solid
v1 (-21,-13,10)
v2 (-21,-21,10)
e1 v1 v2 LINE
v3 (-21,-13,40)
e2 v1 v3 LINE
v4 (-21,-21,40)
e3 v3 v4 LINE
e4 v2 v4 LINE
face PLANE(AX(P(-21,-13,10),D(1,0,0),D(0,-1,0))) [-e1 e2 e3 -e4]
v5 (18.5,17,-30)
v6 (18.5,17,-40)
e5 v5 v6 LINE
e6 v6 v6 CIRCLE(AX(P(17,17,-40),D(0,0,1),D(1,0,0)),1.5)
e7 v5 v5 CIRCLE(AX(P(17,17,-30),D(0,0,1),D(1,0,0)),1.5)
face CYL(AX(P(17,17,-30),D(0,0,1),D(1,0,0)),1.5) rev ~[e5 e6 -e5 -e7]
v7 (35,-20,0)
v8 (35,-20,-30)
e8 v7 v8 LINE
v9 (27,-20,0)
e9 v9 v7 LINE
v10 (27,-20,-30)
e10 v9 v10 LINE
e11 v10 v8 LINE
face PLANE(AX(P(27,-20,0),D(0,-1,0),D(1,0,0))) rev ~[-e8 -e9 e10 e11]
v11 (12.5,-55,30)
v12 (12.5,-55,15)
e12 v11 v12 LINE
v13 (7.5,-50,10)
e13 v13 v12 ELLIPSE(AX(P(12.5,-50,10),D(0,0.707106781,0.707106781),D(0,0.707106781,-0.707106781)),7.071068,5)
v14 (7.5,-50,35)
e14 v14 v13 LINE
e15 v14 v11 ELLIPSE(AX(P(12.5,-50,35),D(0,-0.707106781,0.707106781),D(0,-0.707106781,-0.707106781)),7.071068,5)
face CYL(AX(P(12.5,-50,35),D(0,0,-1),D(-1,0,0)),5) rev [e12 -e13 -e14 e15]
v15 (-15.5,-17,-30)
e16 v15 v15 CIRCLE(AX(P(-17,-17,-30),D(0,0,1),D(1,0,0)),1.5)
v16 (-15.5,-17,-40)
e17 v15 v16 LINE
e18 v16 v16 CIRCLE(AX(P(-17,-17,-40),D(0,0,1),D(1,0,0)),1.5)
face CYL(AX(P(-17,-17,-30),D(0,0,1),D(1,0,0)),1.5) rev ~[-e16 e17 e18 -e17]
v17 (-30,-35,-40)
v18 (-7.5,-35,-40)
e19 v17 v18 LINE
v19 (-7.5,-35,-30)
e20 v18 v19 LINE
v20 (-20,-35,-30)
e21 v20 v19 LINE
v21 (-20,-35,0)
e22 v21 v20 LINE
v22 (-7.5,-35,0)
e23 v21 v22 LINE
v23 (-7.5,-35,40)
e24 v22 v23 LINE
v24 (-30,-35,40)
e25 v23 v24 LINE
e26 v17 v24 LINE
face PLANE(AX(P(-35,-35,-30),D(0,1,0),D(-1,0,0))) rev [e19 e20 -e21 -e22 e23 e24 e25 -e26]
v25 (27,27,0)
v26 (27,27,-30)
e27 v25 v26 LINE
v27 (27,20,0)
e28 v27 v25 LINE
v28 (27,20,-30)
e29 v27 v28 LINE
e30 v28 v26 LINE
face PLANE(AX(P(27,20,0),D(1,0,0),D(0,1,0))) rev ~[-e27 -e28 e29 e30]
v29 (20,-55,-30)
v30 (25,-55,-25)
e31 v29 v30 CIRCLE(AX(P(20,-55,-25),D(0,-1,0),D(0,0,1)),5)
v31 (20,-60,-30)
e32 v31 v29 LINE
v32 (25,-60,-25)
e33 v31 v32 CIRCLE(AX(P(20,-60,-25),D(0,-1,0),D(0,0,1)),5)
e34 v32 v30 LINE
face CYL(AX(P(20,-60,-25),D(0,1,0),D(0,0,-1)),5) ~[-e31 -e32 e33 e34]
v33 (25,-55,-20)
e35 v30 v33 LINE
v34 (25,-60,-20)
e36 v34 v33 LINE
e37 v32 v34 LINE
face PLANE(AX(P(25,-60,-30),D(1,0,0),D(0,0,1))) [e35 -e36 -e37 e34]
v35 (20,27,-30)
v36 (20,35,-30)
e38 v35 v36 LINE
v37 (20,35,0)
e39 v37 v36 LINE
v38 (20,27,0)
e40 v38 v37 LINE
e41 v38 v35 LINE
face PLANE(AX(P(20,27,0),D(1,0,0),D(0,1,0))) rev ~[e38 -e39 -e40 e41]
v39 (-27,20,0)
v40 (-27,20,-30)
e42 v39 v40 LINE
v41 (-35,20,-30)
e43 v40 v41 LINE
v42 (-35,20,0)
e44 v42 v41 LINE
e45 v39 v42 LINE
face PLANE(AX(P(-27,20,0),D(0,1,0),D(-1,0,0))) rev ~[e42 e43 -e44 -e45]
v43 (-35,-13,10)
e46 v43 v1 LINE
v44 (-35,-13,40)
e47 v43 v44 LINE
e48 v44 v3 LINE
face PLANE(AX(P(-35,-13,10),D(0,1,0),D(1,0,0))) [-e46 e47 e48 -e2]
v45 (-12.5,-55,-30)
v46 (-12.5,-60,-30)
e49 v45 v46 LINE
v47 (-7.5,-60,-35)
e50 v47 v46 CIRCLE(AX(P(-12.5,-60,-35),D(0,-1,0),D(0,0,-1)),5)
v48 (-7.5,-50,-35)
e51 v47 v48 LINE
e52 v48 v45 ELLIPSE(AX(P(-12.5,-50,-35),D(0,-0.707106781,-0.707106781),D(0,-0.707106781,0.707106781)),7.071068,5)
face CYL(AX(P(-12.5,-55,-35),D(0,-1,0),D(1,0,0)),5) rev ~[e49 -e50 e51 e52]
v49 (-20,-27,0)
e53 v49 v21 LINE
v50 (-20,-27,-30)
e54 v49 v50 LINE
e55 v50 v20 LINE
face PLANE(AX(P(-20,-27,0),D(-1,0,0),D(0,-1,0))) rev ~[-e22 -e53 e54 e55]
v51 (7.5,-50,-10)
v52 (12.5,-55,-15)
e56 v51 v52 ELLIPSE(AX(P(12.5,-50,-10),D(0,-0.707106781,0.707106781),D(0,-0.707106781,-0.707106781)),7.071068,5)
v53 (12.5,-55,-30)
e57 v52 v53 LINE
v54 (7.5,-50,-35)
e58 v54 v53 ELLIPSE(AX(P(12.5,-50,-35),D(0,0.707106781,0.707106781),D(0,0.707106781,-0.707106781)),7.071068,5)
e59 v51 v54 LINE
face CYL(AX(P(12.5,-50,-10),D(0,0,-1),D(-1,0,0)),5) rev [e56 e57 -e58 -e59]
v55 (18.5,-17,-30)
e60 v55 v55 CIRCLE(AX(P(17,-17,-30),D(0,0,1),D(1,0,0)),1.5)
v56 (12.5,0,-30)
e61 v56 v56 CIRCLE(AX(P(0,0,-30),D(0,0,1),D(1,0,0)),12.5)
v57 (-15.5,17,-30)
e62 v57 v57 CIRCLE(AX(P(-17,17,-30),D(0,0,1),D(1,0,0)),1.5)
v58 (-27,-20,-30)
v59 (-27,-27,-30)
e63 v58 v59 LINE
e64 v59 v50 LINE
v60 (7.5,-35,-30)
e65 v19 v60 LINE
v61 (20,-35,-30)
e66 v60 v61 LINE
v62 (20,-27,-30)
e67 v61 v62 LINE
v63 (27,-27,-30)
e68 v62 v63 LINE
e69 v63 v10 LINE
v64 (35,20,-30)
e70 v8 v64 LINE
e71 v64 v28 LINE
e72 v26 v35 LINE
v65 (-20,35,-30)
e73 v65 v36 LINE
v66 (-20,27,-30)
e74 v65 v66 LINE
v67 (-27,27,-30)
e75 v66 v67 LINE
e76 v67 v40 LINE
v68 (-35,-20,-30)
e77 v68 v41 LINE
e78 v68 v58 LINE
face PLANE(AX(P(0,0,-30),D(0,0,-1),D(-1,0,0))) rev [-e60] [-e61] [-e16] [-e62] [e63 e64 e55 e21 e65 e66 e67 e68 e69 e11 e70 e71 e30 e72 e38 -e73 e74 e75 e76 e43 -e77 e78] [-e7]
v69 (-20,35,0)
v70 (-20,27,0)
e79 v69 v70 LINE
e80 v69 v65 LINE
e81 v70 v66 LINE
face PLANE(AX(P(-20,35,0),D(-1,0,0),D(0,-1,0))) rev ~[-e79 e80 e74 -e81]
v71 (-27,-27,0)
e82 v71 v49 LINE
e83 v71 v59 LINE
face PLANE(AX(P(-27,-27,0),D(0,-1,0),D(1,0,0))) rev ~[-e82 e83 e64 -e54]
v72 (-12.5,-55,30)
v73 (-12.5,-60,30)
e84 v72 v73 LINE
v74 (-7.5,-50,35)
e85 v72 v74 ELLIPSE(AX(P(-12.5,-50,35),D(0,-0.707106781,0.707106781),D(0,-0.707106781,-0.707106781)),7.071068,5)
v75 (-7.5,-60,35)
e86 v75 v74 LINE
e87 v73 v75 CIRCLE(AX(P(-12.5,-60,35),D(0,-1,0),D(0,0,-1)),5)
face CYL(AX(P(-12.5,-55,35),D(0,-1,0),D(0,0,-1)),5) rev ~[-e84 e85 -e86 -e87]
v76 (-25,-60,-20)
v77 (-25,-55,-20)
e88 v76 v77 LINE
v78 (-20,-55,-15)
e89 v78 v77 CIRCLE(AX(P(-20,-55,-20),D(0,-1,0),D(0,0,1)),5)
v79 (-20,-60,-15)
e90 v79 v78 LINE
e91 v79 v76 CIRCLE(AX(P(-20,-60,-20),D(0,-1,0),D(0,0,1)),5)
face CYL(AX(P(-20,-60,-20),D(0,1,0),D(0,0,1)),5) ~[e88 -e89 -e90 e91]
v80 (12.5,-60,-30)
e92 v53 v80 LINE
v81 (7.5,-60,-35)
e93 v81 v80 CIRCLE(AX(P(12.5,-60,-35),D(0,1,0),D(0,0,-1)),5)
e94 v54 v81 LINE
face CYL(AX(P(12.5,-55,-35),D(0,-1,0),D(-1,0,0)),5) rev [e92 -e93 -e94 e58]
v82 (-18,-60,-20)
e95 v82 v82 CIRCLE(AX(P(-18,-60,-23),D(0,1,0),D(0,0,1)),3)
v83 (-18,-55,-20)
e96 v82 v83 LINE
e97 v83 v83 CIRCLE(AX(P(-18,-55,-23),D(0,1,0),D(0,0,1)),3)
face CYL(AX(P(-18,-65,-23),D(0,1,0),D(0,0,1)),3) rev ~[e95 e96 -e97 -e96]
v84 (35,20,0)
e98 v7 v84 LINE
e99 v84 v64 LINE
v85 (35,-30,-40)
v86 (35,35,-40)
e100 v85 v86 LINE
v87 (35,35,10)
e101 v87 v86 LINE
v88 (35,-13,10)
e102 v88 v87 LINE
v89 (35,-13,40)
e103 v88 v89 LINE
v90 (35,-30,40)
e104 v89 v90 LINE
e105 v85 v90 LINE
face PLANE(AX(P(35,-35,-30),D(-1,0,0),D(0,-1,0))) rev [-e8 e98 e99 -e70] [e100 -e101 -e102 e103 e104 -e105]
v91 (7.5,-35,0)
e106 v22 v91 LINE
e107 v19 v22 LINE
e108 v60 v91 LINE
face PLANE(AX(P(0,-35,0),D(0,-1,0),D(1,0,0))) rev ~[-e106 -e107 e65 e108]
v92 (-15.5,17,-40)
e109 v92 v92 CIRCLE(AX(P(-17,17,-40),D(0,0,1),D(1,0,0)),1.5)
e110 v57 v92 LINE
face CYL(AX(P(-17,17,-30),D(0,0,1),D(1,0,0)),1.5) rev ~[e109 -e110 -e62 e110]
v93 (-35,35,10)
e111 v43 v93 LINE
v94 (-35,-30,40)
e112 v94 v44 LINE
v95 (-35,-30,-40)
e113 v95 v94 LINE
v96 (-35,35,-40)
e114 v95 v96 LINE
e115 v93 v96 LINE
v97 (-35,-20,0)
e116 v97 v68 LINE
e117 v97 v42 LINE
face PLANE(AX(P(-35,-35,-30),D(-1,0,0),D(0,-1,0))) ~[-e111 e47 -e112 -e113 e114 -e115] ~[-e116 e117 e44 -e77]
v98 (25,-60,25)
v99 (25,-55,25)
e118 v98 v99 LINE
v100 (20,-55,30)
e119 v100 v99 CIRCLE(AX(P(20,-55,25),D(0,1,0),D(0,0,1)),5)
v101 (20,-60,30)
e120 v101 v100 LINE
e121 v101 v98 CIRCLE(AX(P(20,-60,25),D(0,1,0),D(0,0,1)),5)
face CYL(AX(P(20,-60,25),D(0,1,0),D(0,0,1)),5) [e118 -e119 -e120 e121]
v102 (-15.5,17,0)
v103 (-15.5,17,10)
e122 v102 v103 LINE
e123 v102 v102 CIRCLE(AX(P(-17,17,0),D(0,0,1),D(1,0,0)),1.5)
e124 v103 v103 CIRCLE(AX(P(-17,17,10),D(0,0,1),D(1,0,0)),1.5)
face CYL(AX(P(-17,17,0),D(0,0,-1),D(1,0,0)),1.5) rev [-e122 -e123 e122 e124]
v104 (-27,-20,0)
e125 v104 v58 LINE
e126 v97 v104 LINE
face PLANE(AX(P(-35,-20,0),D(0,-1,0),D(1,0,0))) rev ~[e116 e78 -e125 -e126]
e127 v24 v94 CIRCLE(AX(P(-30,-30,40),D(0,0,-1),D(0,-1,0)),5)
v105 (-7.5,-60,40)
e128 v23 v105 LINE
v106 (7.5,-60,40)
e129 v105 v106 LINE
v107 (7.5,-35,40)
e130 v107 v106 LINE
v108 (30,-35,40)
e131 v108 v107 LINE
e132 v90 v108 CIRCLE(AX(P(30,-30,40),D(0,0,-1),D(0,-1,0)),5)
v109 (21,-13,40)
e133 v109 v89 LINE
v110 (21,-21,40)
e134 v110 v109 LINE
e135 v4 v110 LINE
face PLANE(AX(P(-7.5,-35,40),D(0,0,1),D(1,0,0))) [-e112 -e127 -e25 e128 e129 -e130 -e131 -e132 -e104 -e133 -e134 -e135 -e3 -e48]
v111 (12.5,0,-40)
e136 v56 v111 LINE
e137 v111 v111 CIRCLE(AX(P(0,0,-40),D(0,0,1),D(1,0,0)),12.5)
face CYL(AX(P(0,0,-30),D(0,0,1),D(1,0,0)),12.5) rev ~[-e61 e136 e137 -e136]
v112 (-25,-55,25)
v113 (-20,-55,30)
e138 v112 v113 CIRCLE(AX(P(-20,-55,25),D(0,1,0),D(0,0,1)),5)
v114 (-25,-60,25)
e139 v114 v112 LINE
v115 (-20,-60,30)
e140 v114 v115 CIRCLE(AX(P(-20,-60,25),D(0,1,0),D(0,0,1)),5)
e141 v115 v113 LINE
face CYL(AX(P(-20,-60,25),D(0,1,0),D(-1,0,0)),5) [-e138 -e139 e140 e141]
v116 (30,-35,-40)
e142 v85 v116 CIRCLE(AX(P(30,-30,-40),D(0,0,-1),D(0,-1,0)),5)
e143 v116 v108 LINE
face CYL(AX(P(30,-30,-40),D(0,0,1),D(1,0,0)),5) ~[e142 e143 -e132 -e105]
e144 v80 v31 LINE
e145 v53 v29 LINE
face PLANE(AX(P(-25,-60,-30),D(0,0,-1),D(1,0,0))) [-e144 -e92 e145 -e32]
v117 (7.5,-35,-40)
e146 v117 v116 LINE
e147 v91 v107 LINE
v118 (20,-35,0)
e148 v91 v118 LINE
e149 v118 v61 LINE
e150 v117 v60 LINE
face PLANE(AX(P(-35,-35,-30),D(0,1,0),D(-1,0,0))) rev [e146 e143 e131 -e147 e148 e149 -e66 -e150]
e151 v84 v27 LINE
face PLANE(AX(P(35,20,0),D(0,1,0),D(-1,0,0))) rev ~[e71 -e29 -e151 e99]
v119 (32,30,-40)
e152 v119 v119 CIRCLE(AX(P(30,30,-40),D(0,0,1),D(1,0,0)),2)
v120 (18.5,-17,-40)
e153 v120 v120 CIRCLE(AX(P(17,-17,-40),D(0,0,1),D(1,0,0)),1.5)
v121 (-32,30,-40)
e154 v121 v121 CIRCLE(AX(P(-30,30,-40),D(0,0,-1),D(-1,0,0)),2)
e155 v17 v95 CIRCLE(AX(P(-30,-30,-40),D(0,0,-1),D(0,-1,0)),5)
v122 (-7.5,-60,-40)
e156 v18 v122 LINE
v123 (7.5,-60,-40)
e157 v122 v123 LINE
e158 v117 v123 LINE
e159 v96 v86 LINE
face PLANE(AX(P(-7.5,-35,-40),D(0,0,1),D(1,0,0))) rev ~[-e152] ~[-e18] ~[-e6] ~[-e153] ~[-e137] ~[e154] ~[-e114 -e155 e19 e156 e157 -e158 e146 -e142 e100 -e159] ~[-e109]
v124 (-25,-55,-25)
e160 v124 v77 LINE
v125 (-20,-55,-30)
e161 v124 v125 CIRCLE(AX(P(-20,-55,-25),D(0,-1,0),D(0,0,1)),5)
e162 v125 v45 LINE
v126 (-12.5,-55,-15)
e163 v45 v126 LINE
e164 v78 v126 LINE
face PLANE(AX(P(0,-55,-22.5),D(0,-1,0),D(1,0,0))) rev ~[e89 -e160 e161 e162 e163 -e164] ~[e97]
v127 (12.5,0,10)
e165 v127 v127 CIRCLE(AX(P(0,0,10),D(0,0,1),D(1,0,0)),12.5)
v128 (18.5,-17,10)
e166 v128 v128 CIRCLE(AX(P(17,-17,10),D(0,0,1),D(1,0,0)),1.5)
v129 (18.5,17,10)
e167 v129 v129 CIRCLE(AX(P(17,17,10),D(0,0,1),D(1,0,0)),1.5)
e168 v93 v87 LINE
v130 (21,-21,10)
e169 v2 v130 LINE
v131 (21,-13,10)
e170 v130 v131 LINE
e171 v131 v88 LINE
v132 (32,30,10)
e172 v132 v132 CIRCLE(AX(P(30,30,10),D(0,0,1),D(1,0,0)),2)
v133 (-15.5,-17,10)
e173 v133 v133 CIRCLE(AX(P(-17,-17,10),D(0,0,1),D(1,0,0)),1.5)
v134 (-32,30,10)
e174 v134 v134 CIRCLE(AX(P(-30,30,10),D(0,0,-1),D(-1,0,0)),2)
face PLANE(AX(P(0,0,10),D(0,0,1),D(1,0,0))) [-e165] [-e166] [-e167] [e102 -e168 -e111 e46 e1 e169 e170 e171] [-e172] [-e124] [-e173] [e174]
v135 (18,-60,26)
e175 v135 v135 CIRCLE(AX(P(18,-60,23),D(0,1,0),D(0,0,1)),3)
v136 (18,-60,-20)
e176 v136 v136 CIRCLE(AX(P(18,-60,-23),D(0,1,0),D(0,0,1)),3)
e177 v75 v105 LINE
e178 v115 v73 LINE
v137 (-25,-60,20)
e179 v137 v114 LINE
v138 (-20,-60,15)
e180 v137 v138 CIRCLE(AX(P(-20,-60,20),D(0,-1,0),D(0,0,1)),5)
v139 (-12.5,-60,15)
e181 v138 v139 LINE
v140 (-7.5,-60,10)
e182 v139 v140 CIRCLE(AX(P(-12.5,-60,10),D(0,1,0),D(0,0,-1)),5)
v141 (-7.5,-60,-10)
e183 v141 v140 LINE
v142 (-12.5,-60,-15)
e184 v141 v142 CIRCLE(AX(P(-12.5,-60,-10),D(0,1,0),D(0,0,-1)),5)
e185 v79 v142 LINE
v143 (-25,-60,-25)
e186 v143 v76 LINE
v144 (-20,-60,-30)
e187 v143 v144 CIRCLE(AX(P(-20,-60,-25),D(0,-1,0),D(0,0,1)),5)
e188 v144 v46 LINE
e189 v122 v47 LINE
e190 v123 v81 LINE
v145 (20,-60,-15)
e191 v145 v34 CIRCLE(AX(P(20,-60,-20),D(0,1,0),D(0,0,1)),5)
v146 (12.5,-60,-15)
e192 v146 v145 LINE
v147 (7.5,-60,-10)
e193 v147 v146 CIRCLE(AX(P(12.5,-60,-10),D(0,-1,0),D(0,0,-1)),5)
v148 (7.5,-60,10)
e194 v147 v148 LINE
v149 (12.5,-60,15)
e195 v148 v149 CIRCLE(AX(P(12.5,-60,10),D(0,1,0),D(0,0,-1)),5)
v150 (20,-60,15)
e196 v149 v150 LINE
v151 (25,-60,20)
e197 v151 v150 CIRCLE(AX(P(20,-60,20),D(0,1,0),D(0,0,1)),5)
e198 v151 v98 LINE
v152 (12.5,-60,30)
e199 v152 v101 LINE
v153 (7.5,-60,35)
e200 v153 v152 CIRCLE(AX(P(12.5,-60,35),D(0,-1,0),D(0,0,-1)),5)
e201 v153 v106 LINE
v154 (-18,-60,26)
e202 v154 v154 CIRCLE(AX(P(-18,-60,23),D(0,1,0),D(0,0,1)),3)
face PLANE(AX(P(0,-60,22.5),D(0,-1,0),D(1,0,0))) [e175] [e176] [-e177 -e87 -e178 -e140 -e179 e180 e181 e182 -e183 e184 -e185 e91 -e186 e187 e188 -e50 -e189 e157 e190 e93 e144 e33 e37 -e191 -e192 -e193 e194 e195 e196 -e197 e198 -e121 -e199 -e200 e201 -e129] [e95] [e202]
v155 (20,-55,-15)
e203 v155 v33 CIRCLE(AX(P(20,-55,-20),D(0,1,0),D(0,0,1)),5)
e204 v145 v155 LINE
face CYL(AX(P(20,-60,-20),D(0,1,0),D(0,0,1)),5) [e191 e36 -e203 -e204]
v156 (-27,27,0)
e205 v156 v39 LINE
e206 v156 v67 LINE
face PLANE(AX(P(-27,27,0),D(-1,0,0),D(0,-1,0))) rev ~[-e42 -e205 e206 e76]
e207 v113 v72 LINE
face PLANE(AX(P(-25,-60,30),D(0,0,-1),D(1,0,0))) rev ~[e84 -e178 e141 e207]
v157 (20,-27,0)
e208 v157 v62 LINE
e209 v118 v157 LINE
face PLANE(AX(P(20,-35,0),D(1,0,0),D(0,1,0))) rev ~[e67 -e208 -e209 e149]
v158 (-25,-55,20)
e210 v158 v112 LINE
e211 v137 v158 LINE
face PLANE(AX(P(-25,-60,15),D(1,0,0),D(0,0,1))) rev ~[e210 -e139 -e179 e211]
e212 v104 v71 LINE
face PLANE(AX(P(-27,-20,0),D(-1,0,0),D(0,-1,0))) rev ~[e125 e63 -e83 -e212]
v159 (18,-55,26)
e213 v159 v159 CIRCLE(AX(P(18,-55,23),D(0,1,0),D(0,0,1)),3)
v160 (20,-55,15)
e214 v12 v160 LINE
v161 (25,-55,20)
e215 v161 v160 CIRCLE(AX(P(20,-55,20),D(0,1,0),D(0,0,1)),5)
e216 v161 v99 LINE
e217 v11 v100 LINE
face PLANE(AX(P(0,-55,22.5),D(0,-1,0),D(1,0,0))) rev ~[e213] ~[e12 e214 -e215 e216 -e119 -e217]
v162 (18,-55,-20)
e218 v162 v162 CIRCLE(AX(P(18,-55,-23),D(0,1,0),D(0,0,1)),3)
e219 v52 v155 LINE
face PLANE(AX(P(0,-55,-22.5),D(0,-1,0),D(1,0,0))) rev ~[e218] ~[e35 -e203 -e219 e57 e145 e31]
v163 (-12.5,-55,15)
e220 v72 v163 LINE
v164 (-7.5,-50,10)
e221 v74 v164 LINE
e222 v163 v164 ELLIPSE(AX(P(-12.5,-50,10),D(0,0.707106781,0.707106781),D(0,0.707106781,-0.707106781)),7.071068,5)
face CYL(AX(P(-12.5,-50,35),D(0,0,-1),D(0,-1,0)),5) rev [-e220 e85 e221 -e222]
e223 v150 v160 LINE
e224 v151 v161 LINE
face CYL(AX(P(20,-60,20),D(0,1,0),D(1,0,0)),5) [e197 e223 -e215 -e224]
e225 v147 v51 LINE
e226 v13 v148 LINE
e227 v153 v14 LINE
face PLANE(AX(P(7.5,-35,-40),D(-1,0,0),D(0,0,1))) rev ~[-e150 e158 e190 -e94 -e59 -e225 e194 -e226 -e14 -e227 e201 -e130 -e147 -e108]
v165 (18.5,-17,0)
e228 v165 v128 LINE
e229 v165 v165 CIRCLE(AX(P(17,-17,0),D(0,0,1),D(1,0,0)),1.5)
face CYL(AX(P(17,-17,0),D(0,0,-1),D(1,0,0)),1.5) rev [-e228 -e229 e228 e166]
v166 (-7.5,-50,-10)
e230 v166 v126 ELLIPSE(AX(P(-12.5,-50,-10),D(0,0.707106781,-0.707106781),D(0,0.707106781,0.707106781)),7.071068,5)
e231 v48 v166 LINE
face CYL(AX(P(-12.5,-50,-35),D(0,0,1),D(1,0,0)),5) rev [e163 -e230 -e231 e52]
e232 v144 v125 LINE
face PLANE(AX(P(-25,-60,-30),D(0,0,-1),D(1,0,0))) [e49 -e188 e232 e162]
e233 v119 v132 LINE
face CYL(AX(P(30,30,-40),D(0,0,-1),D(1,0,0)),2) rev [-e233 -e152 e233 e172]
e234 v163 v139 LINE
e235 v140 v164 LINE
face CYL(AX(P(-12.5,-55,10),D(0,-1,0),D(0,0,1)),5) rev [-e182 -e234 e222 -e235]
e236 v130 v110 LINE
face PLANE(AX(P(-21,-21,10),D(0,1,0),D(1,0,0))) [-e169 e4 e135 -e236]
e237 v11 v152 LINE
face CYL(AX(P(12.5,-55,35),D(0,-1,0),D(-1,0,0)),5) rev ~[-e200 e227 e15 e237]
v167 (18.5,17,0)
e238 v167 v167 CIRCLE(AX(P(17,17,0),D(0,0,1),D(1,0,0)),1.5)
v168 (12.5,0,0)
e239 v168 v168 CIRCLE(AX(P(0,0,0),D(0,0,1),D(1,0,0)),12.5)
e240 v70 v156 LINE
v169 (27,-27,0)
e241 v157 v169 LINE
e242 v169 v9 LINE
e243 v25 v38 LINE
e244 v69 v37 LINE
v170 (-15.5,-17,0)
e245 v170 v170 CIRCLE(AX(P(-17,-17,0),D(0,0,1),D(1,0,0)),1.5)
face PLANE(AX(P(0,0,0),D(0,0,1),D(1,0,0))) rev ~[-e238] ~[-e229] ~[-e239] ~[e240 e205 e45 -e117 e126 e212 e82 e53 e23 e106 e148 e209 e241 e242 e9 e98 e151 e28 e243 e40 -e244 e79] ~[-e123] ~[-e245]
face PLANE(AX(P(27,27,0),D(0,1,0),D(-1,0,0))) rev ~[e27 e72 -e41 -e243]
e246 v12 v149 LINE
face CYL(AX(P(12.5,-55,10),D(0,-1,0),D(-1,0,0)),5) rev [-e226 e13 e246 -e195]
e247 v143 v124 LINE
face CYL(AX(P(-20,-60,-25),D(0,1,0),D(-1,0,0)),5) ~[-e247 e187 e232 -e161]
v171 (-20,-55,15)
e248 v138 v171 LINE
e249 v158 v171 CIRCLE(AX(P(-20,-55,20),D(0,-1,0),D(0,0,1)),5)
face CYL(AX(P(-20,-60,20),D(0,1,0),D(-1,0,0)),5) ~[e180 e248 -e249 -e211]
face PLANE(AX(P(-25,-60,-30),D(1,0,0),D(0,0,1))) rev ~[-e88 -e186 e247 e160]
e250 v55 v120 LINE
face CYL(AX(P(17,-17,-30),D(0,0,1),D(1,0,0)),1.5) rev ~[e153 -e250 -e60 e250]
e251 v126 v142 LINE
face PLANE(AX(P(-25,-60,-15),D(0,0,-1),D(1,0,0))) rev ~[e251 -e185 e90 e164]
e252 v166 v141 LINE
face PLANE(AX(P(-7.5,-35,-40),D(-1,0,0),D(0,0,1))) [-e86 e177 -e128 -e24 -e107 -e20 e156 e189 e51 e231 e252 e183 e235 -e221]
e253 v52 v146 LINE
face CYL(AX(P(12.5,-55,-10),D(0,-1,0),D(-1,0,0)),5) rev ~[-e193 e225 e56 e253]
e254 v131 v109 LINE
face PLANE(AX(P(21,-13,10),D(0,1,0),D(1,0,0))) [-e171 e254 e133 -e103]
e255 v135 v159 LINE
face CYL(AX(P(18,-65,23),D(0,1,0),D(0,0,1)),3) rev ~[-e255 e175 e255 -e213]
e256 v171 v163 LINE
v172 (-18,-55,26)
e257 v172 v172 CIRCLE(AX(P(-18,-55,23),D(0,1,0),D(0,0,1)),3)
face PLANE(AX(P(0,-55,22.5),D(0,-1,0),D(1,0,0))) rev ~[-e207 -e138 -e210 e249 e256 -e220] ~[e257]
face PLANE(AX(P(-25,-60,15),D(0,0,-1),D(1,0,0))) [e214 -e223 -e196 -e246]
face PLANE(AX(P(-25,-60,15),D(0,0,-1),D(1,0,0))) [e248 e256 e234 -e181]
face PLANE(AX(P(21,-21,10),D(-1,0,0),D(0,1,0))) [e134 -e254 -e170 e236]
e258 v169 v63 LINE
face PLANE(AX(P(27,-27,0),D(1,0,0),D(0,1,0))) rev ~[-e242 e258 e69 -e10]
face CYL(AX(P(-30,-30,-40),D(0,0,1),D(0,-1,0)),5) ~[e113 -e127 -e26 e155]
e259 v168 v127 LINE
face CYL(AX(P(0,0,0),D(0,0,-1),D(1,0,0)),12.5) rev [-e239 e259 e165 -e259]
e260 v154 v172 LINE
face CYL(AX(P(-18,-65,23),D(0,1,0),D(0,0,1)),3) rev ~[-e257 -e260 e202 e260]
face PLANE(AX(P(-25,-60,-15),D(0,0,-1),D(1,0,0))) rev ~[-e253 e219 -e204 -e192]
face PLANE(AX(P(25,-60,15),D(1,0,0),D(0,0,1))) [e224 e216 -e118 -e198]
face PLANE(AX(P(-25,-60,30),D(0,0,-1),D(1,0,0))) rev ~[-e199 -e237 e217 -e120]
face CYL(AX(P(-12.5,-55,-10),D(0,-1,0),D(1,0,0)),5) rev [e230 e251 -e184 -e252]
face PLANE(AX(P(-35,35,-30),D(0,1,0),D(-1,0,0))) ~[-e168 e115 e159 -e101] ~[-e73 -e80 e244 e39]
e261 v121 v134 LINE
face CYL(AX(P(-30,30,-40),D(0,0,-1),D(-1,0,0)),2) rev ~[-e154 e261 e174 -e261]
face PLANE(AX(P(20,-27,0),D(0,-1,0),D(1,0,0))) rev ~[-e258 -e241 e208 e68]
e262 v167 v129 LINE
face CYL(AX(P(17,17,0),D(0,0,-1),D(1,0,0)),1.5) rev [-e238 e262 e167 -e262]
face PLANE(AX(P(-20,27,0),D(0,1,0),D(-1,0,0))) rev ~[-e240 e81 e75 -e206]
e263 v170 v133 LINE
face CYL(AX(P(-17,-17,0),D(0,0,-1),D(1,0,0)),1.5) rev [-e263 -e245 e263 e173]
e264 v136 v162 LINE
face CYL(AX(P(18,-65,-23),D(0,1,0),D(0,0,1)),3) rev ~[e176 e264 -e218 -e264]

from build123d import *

# Parameters (mm, degrees)
SKETCH1_W                 = 70
SKETCH1_H                 = 70
SKETCH1_R                 = 12.5
SKETCH1_R_2               = 1.5
BOSS_EXTRUDE1_DEPTH       = 10
BOSS_EXTRUDE2_DEPTH       = 30
BOSS_EXTRUDE3_DEPTH       = 30
CIRPATTERN1_COUNT         = 4
SKETCH4_R                 = 2
CUT_EXTRUDE1_DEPTH        = 50
SKETCH6_W                 = 15
SKETCH6_H                 = 80
BOSS_EXTRUDE4_DEPTH       = 25
SKETCH7_W                 = 50
SKETCH7_H                 = 15
BOSS_EXTRUDE5_DEPTH       = 5
F_6_0MM_DOWEL_HOLE1_D     = 6
F_6_0MM_DOWEL_HOLE1_DEPTH = 5
FILLET1_R                 = 5
FILLET2_R                 = 5
FILLET3_R                 = 5


with BuildPart() as part:
    # Sketch1 → Boss-Extrude1 (new body)
    with BuildSketch(Plane.XY):
        Rectangle(SKETCH1_W, SKETCH1_H)
        Circle(SKETCH1_R, mode=Mode.SUBTRACT)
        with Locations((17, 17)):
            Circle(SKETCH1_R_2, mode=Mode.SUBTRACT)
        with Locations((-17, 17)):
            Circle(SKETCH1_R_2, mode=Mode.SUBTRACT)
        with Locations((17, -17)):
            Circle(SKETCH1_R_2, mode=Mode.SUBTRACT)
        with Locations((-17, -17)):
            Circle(SKETCH1_R_2, mode=Mode.SUBTRACT)
    boss_extrude1 = extrude(amount=BOSS_EXTRUDE1_DEPTH)

    # Sketch2 → Boss-Extrude2 (add)
    with BuildSketch(Plane.XY.offset(10)):
        Polygon((-21, -13), (-21, -21), (21, -21), (21, -13), (35, -13), (35, -35), (-35, -35), (-35, -13), align=None)
    extrude(amount=BOSS_EXTRUDE2_DEPTH)

    # Sketch3 → Boss-Extrude3 (add)
    with BuildSketch(Plane(origin=(0, 0, 0), x_dir=(-1, 0, 0), z_dir=(0, 0, -1))):
        Polygon((27, 20), (35, 20), (35, 35), (20, 35), (20, 27), (27, 27), align=None)
    boss_extrude3 = extrude(amount=BOSS_EXTRUDE3_DEPTH)

    # CirPattern1: Boss-Extrude3 ×4 about axis
    cirpattern1_axis = Axis((0, 0, 0), (0, 0, 1))
    for i in range(1, CIRPATTERN1_COUNT):
        add(boss_extrude3.rotate(cirpattern1_axis, i * 360 / CIRPATTERN1_COUNT))

    # Mirror1: Boss-Extrude1 across plane
    add(boss_extrude1.mirror(Plane(origin=(0, 0, -15), x_dir=(1, 0, 0), z_dir=(0, 0, -1))))

    # Sketch4 → Cut-Extrude1 (cut)
    with BuildSketch(Plane(origin=(0, 0, -40), x_dir=(-1, 0, 0), z_dir=(0, 0, -1))):
        with Locations((30, 30)):
            Circle(SKETCH4_R)
    cut_extrude1 = extrude(amount=-CUT_EXTRUDE1_DEPTH, mode=Mode.SUBTRACT)

    # Mirror2: Cut-Extrude1 across plane
    add(cut_extrude1.mirror(Plane(origin=(0, 0, 0), x_dir=(0, 0, 1), z_dir=(1, 0, 0))), mode=Mode.SUBTRACT)

    # Sketch6 → Boss-Extrude4 (add)
    with BuildSketch(Plane.XZ.offset(35)):
        Rectangle(SKETCH6_W, SKETCH6_H)
    extrude(amount=BOSS_EXTRUDE4_DEPTH)

    # Sketch7 → Boss-Extrude5 (add)
    with BuildSketch(Plane.XZ.offset(60)):
        with Locations((0, 22.5)):
            Rectangle(SKETCH7_W, SKETCH7_H)
        with Locations((0, -22.5)):
            Rectangle(SKETCH7_W, SKETCH7_H)
    extrude(amount=-BOSS_EXTRUDE5_DEPTH)

    # Ø6.0mm Dowel Hole1
    with Locations(Plane(origin=(-18, -60, 23), x_dir=(0, 0, -1), z_dir=(0, -1, 0))):
        with Locations((0, 0), (0, 36), (46, 0), (46, 36)):
            Hole(F_6_0MM_DOWEL_HOLE1_D / 2, depth=F_6_0MM_DOWEL_HOLE1_DEPTH)

    # Fillet1
    fillet1_edges = [part.edges().sort_by_distance(p)[0] for p in [
        (25, -57.5, 15),
        (-25, -57.5, 30),
        (25, -57.5, 30),
        (7.5, -57.5, 15),
        (-7.5, -57.5, 15),
        (-25, -57.5, 15),
        (7.5, -57.5, 30),
        (-7.5, -57.5, 30),
        (25, -57.5, -30),
        (-25, -57.5, -15),
        (25, -57.5, -15),
        (7.5, -57.5, -30),
        (-7.5, -57.5, -30),
        (-25, -57.5, -30),
        (7.5, -57.5, -15),
        (-7.5, -57.5, -15),
    ]]
    fillet(fillet1_edges, radius=FILLET1_R)

    # Fillet2
    fillet2_edges = [part.edges().sort_by_distance(p)[0] for p in [
        (-7.5, -55, 22.5),
        (-7.5, -55, -22.5),
        (7.5, -55, -22.5),
        (7.5, -55, 22.5),
    ]]
    fillet(fillet2_edges, radius=FILLET2_R)

    # Fillet3
    fillet3_edges = [part.edges().sort_by_distance(p)[0] for p in [
        (-35, -35, 0),
        (35, -35, 0),
    ]]
    fillet(fillet3_edges, radius=FILLET3_R)


solid = part.part
